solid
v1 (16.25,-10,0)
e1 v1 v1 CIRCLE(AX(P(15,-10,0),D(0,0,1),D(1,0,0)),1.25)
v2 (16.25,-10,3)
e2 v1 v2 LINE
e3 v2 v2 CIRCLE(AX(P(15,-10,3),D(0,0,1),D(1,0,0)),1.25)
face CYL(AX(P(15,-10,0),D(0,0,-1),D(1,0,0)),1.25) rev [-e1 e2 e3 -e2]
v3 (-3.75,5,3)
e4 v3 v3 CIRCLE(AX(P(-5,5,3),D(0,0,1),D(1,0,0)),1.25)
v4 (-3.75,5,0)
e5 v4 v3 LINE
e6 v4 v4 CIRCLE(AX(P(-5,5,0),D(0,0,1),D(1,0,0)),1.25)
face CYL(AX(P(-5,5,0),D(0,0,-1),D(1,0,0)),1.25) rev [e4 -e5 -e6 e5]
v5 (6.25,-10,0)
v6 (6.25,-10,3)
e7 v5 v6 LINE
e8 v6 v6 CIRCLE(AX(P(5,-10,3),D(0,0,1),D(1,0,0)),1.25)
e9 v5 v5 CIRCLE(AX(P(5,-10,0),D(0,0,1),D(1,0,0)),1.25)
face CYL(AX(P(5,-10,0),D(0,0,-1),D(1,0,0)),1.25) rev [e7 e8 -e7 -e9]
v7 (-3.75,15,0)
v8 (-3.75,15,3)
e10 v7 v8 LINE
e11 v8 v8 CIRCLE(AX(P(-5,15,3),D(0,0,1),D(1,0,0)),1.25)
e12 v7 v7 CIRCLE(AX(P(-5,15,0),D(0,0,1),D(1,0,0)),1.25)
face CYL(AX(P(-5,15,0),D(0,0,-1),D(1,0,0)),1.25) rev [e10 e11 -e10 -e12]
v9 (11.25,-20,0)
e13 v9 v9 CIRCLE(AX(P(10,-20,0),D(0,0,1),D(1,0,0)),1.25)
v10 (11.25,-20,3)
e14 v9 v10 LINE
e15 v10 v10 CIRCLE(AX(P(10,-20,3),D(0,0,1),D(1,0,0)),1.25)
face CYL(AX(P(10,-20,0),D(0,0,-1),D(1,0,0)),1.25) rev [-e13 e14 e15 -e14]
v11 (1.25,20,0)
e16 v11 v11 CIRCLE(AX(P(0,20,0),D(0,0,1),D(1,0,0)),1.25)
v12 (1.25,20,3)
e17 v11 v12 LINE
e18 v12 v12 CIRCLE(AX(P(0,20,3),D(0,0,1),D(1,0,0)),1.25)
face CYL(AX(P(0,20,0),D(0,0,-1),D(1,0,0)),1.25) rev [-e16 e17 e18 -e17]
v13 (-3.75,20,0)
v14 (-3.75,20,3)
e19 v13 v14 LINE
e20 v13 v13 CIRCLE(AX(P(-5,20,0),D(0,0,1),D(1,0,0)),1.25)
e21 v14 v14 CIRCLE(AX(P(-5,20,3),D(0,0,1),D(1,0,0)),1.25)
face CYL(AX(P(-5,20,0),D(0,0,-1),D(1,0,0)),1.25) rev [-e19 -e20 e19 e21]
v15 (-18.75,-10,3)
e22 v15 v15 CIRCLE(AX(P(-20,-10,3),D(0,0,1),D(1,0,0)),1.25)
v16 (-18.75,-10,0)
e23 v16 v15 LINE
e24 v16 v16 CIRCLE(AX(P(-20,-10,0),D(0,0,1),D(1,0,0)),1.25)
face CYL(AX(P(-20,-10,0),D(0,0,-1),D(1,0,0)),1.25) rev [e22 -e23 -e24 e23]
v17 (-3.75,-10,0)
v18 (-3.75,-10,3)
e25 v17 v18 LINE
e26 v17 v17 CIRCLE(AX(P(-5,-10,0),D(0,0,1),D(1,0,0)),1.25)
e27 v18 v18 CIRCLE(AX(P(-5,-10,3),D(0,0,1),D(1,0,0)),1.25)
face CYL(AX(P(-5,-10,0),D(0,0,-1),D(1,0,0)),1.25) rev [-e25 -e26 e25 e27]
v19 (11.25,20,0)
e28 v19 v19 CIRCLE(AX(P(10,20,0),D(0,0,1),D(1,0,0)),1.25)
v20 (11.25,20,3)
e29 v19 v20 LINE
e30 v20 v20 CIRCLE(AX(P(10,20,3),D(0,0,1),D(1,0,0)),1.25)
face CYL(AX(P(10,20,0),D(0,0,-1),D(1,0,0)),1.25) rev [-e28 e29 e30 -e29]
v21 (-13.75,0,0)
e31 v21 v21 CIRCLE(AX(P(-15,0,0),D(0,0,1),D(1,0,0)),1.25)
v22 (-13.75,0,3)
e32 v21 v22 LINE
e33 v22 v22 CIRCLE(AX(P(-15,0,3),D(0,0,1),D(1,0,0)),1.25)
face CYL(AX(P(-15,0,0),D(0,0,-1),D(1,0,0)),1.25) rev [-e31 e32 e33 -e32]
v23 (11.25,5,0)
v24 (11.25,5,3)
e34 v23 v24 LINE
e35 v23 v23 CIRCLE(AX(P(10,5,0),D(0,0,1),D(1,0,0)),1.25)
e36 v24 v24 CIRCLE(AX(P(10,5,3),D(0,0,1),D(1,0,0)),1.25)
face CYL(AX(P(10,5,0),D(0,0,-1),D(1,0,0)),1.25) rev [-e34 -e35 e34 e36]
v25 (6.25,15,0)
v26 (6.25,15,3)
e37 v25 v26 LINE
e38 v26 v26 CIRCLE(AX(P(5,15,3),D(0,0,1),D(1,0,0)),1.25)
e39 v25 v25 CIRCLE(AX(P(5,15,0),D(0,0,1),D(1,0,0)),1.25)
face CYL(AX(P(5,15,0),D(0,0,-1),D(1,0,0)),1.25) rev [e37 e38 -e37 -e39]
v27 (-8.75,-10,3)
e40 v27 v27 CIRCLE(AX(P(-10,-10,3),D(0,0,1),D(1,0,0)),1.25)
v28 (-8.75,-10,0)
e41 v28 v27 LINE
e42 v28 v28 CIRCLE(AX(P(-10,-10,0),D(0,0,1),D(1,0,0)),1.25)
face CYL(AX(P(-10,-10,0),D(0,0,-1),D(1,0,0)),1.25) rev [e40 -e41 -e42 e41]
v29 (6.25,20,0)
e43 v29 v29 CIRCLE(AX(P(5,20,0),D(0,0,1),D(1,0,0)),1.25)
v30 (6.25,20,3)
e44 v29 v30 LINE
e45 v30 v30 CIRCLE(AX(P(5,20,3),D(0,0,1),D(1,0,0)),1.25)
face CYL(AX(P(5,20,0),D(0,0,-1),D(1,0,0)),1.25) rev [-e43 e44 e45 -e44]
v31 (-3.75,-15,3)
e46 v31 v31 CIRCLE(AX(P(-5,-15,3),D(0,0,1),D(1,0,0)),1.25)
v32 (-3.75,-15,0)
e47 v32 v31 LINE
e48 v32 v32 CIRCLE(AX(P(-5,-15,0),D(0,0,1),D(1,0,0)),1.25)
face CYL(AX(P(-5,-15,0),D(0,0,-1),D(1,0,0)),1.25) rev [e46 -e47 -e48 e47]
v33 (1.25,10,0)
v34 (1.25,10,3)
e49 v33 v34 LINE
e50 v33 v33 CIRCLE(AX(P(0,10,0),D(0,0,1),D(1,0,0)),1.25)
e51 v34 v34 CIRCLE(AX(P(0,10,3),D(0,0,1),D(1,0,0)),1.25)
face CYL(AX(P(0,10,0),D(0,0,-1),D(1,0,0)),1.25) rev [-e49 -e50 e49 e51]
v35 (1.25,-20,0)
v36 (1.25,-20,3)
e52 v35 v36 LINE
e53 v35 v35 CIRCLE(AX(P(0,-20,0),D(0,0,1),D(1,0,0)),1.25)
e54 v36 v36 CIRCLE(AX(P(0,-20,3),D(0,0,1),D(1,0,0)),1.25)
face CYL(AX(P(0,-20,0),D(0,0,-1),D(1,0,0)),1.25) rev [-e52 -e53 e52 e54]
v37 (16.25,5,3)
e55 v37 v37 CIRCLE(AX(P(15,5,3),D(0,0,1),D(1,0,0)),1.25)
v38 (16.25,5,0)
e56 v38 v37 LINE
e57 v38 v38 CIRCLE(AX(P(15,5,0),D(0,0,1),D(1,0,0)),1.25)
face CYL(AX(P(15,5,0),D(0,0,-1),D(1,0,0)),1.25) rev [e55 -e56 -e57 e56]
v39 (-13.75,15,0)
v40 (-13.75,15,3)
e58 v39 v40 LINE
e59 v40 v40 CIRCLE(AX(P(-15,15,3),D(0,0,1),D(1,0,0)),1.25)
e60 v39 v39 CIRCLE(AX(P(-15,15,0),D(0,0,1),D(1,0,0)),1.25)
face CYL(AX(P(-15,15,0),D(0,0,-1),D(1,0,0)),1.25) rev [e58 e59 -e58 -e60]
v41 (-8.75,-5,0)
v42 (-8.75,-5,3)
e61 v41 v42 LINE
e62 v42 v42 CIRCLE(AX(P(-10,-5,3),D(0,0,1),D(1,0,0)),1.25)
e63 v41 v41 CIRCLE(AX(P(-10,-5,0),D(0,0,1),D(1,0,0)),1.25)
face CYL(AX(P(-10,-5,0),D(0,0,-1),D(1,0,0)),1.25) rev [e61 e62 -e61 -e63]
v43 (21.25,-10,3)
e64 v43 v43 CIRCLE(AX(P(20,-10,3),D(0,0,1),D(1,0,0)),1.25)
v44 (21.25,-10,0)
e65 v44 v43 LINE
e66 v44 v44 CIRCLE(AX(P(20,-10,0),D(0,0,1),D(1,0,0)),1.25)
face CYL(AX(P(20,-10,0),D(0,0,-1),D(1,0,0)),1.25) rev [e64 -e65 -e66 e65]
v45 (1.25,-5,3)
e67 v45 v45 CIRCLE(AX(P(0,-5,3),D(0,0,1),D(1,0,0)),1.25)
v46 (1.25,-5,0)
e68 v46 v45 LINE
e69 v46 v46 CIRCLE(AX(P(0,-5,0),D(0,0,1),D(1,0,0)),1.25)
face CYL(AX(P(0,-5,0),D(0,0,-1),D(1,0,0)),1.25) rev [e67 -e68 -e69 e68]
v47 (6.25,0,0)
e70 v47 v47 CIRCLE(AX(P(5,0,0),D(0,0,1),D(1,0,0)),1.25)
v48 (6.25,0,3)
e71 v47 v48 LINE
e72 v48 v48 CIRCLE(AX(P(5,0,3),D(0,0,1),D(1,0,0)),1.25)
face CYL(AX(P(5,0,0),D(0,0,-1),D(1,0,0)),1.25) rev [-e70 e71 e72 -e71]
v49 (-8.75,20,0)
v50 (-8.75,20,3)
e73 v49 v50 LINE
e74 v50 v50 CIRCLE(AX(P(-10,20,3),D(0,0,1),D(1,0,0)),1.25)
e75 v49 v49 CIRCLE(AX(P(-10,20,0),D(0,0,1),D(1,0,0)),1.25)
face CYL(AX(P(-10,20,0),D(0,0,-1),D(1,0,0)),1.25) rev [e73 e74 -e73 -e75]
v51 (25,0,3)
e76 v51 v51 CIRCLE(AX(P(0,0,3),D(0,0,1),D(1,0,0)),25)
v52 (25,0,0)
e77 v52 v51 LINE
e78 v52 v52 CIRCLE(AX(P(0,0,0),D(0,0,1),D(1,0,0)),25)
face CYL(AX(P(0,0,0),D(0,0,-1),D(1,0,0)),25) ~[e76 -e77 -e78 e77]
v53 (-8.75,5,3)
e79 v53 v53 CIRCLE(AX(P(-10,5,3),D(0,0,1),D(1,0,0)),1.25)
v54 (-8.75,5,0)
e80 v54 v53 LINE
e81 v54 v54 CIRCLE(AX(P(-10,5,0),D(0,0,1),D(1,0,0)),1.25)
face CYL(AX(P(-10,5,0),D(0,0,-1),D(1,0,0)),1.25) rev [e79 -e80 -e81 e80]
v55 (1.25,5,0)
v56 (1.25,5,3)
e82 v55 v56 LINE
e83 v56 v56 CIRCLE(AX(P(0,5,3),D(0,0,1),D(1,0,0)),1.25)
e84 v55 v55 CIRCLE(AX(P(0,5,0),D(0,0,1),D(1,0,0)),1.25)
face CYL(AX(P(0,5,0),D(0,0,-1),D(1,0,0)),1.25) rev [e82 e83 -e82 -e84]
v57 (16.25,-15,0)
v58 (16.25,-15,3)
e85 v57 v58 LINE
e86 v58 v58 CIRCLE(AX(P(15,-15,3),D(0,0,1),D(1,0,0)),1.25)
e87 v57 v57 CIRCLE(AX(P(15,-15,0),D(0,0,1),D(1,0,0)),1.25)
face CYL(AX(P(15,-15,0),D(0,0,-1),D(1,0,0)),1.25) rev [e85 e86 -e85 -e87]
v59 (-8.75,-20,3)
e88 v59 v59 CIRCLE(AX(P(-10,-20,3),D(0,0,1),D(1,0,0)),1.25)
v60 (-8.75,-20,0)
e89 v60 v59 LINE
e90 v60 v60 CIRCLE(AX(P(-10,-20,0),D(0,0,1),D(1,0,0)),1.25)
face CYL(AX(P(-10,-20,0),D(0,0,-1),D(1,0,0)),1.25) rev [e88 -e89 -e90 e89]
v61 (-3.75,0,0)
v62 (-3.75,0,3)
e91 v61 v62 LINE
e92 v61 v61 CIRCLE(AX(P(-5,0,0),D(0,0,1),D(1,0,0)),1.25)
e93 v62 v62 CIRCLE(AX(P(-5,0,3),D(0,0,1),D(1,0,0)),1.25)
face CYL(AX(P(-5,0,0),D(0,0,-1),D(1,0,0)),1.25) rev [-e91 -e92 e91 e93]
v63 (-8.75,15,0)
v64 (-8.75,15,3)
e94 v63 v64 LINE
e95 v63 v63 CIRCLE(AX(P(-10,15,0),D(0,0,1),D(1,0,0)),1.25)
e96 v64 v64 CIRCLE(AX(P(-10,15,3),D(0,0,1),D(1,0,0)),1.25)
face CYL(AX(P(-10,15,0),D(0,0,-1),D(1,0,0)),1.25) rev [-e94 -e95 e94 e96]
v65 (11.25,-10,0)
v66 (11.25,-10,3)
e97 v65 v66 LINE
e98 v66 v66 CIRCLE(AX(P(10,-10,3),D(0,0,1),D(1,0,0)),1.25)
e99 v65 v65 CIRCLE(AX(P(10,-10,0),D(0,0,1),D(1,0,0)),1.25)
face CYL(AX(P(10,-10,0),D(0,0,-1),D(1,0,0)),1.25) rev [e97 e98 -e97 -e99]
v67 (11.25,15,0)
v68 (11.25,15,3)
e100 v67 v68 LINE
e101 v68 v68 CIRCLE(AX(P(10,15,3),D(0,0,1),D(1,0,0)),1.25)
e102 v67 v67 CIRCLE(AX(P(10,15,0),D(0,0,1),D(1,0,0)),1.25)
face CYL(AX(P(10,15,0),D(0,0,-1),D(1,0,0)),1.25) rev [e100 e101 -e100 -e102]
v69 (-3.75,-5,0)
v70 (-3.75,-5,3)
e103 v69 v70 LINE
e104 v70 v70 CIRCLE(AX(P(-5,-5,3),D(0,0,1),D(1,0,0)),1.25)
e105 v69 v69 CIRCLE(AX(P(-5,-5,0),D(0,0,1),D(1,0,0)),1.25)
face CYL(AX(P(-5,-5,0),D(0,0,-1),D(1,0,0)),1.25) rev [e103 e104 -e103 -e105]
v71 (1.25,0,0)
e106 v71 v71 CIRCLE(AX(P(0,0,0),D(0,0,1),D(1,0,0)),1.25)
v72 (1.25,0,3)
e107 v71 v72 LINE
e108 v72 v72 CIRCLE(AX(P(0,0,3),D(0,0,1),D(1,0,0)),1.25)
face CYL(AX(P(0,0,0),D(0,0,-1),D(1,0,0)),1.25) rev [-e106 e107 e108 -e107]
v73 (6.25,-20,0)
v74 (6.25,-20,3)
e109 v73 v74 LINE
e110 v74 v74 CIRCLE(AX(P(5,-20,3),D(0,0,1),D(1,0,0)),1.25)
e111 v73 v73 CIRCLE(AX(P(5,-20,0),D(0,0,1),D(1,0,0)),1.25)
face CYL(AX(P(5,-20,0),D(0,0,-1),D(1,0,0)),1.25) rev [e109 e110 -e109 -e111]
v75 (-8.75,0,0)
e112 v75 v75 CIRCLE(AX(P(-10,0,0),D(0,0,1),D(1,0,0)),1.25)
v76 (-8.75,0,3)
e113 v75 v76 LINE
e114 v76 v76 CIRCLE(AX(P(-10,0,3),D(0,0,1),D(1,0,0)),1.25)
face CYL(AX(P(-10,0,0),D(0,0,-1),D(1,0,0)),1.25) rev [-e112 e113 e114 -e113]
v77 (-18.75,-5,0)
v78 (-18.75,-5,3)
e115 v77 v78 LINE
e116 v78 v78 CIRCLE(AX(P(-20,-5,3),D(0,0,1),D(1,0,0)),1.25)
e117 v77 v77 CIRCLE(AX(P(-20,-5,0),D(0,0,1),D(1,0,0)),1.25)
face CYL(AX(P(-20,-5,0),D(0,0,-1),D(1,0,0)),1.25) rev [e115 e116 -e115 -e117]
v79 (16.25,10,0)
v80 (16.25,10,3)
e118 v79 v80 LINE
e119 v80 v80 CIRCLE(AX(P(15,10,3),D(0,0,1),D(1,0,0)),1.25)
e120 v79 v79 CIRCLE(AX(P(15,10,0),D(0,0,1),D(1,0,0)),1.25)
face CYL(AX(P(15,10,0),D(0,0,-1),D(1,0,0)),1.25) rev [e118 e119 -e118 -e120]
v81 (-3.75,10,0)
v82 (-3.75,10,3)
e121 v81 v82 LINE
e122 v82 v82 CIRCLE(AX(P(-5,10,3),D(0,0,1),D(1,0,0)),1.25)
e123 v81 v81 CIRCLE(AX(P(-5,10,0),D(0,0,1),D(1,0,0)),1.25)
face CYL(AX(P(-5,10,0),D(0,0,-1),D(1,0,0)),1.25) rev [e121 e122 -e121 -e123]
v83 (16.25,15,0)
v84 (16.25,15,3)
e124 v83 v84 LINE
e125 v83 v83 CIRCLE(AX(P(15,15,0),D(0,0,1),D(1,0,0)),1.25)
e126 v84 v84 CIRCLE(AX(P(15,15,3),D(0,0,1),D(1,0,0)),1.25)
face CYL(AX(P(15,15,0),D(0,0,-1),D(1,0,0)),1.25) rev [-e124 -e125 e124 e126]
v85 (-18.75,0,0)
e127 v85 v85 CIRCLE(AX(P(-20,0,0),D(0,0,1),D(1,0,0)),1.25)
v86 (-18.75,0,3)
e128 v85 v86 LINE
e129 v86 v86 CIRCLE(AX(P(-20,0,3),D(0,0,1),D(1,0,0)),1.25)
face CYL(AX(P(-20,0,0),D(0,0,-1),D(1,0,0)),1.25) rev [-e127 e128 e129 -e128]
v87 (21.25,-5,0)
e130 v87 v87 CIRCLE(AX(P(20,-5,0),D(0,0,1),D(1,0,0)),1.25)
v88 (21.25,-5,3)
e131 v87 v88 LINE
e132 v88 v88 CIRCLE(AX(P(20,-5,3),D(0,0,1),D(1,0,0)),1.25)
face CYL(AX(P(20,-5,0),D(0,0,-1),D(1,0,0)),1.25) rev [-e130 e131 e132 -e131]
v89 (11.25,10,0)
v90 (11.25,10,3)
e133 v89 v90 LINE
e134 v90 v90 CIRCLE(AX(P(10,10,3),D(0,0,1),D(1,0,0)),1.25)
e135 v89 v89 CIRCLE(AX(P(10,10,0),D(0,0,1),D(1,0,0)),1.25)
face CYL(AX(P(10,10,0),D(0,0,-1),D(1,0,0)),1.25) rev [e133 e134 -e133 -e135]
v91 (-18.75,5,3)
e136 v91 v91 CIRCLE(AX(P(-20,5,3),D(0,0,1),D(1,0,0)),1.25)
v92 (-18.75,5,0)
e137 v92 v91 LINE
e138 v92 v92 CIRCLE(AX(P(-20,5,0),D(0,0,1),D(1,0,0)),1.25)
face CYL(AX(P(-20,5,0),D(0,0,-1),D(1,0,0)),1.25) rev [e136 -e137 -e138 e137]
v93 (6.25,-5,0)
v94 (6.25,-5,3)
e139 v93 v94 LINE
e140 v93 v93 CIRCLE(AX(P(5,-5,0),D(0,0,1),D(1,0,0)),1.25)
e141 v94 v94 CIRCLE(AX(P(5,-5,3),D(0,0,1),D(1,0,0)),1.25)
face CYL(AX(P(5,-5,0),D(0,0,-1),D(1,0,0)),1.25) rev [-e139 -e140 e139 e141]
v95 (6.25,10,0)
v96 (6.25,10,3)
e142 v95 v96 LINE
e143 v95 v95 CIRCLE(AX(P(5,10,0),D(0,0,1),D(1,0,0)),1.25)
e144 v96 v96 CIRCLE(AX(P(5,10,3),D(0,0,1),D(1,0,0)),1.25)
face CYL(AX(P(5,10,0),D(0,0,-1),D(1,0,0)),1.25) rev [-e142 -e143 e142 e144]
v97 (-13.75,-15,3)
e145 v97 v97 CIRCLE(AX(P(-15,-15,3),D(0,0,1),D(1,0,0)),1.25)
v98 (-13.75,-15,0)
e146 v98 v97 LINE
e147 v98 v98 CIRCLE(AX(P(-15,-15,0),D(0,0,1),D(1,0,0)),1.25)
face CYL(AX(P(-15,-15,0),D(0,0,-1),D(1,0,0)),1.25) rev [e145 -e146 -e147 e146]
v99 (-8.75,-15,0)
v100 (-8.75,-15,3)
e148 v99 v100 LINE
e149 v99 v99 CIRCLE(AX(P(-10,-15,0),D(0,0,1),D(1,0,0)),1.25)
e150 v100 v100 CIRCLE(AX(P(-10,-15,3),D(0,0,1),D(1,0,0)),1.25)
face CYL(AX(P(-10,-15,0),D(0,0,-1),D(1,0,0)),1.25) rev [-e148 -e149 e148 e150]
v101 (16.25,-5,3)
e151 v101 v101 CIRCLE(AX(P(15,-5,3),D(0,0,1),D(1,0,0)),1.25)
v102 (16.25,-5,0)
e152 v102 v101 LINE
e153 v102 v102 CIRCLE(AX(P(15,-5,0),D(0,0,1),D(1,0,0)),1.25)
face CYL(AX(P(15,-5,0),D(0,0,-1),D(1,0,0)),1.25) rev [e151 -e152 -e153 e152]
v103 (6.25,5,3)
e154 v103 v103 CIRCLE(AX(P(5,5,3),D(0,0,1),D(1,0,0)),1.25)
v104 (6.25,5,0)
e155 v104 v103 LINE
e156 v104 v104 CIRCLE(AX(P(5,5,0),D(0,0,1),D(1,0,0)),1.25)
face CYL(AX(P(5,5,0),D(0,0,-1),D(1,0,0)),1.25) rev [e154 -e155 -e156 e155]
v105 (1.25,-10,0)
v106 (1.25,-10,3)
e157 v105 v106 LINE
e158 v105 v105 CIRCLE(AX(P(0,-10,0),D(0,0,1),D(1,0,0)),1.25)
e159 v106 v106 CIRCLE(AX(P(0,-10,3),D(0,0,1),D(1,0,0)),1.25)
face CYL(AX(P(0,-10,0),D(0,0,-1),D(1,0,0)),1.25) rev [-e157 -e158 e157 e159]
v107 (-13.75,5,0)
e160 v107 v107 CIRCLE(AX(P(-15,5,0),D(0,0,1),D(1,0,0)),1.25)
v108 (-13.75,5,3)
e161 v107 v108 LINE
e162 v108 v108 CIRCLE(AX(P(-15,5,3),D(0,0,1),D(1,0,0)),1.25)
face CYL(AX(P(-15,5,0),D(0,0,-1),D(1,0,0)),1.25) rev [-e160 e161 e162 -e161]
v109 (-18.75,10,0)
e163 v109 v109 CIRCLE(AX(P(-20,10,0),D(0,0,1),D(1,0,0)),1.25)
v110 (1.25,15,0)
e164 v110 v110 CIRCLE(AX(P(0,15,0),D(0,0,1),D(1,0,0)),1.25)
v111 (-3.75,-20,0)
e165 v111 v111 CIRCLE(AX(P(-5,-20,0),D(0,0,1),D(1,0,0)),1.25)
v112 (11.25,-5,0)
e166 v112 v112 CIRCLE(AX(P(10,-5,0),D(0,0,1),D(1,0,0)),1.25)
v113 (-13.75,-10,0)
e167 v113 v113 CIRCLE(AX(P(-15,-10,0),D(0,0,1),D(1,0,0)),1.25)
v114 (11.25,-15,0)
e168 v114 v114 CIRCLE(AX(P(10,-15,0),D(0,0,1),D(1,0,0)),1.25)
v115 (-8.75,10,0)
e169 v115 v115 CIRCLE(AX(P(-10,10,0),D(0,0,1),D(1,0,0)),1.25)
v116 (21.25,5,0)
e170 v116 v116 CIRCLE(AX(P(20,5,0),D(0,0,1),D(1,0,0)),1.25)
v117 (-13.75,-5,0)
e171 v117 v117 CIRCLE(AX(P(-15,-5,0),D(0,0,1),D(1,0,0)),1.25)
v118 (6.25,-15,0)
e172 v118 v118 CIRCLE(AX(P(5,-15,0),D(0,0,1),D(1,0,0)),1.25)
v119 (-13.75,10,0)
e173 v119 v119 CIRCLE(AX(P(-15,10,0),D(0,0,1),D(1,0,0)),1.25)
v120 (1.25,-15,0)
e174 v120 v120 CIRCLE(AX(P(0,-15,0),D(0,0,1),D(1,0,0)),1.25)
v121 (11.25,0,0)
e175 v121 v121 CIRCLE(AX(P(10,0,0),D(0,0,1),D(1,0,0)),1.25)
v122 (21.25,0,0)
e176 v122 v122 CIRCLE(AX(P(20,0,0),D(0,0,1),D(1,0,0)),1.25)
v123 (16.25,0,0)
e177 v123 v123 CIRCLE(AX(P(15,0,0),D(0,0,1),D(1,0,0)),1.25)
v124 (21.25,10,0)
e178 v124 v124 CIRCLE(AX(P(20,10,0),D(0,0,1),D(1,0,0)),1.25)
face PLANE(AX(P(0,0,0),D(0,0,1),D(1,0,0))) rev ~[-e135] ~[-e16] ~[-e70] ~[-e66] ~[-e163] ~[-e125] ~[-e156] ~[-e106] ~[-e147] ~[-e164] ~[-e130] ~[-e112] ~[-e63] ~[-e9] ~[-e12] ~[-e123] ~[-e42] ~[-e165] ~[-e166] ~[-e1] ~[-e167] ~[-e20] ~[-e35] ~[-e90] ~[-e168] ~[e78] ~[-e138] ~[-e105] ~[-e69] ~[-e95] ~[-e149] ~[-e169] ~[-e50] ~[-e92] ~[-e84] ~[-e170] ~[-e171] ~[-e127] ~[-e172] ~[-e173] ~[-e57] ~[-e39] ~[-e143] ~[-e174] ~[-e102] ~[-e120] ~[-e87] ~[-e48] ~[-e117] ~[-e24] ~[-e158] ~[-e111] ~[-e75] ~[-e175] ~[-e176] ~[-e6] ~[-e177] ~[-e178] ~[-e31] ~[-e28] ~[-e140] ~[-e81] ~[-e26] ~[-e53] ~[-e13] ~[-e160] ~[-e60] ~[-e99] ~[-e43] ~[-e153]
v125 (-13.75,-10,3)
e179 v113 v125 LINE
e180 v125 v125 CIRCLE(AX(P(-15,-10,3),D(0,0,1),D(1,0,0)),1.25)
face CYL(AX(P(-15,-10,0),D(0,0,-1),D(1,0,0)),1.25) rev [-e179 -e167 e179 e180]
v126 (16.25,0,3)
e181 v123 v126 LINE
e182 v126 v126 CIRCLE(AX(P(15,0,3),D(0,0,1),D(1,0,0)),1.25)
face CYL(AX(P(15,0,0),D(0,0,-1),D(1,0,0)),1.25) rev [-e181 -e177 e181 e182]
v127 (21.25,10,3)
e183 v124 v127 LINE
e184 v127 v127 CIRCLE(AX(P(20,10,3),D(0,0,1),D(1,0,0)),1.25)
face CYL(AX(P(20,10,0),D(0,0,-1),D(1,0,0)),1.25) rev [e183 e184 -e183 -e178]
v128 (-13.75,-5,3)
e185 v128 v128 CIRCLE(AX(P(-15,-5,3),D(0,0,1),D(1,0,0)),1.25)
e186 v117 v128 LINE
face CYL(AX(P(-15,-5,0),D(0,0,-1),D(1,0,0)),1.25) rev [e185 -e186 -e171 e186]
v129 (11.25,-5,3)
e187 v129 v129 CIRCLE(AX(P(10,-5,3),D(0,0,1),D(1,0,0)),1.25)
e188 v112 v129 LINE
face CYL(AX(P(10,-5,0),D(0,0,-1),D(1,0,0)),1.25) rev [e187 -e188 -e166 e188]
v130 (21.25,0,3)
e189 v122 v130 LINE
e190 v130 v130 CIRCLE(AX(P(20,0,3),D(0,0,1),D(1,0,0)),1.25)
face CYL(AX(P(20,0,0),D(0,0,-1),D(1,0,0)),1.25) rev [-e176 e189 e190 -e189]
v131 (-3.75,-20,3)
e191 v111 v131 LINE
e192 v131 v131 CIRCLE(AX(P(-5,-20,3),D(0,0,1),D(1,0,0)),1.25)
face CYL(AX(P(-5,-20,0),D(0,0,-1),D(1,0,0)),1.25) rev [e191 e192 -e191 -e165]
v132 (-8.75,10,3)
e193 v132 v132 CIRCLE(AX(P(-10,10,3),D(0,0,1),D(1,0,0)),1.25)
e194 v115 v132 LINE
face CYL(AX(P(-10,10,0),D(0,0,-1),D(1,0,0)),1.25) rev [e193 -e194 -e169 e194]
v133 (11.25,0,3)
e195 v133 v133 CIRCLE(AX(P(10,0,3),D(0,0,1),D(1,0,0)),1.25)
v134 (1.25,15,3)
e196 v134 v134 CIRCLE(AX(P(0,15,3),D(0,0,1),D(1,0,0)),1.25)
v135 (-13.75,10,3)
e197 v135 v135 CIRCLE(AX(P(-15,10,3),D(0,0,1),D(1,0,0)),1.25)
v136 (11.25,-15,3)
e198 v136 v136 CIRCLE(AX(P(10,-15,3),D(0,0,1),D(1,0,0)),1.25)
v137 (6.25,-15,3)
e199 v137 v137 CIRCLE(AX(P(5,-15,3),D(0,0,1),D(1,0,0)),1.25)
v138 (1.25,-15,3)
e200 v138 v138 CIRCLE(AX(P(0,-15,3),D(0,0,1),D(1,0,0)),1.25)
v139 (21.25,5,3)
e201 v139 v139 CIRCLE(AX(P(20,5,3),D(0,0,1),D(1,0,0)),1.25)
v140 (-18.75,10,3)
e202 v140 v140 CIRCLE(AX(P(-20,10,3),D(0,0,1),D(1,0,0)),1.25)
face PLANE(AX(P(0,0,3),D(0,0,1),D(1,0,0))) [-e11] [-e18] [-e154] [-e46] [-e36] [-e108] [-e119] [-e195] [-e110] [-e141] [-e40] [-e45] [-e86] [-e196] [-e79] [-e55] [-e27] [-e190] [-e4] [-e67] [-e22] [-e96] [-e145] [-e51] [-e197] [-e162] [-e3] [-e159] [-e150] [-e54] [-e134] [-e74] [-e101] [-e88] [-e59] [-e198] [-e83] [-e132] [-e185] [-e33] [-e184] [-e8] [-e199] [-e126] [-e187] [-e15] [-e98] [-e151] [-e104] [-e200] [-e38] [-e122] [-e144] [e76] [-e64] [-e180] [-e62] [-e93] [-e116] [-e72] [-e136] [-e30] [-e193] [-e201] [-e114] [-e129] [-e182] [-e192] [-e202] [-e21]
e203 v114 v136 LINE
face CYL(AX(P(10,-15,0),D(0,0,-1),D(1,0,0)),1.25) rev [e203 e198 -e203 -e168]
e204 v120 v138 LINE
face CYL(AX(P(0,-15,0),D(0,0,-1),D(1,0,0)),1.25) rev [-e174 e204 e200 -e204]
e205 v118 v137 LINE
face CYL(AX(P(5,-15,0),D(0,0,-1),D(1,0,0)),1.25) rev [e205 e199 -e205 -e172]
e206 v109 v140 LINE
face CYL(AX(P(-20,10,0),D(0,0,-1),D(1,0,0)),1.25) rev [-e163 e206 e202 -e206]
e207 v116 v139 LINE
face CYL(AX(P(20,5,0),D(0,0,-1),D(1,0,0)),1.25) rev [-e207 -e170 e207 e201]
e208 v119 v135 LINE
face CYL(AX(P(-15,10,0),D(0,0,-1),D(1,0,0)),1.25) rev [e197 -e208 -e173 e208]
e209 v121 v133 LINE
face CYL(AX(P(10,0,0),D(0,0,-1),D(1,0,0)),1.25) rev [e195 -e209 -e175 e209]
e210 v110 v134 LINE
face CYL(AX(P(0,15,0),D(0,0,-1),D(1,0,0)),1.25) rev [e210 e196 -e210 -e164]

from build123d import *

# Parameters (mm, degrees)
F0_R     = 25
F0_R_2   = 1.25
F1_DEPTH = 3


with BuildPart() as f1:
    # F0 (on Top) → F1 (new body)
    with BuildSketch(Plane.XY):
        Circle(F0_R)
        with Locations((-15, -15)):
            Circle(F0_R_2, mode=Mode.SUBTRACT)
        with Locations((-10, -20)):
            Circle(F0_R_2, mode=Mode.SUBTRACT)
        with Locations((-5, -20)):
            Circle(F0_R_2, mode=Mode.SUBTRACT)
        with Locations((-10, -15)):
            Circle(F0_R_2, mode=Mode.SUBTRACT)
        with Locations((-5, -15)):
            Circle(F0_R_2, mode=Mode.SUBTRACT)
        with Locations((-20, -10)):
            Circle(F0_R_2, mode=Mode.SUBTRACT)
        with Locations((-15, -10)):
            Circle(F0_R_2, mode=Mode.SUBTRACT)
        with Locations((-20, -5)):
            Circle(F0_R_2, mode=Mode.SUBTRACT)
        with Locations((-15, -5)):
            Circle(F0_R_2, mode=Mode.SUBTRACT)
        with Locations((-10, -10)):
            Circle(F0_R_2, mode=Mode.SUBTRACT)
        with Locations((-5, -10)):
            Circle(F0_R_2, mode=Mode.SUBTRACT)
        with Locations((-10, -5)):
            Circle(F0_R_2, mode=Mode.SUBTRACT)
        with Locations((-5, -5)):
            Circle(F0_R_2, mode=Mode.SUBTRACT)
        with Locations((0, -20)):
            Circle(F0_R_2, mode=Mode.SUBTRACT)
        with Locations((5, -20)):
            Circle(F0_R_2, mode=Mode.SUBTRACT)
        with Locations((10, -20)):
            Circle(F0_R_2, mode=Mode.SUBTRACT)
        with Locations((0, -15)):
            Circle(F0_R_2, mode=Mode.SUBTRACT)
        with Locations((5, -15)):
            Circle(F0_R_2, mode=Mode.SUBTRACT)
        with Locations((10, -15)):
            Circle(F0_R_2, mode=Mode.SUBTRACT)
        with Locations((15, -15)):
            Circle(F0_R_2, mode=Mode.SUBTRACT)
        with Locations((0, -10)):
            Circle(F0_R_2, mode=Mode.SUBTRACT)
        with Locations((5, -10)):
            Circle(F0_R_2, mode=Mode.SUBTRACT)
        with Locations((10, -10)):
            Circle(F0_R_2, mode=Mode.SUBTRACT)
        with Locations((0, -5)):
            Circle(F0_R_2, mode=Mode.SUBTRACT)
        with Locations((5, -5)):
            Circle(F0_R_2, mode=Mode.SUBTRACT)
        with Locations((10, -5)):
            Circle(F0_R_2, mode=Mode.SUBTRACT)
        with Locations((15, -10)):
            Circle(F0_R_2, mode=Mode.SUBTRACT)
        with Locations((20, -10)):
            Circle(F0_R_2, mode=Mode.SUBTRACT)
        with Locations((15, -5)):
            Circle(F0_R_2, mode=Mode.SUBTRACT)
        with Locations((20, -5)):
            Circle(F0_R_2, mode=Mode.SUBTRACT)
        with Locations((-20, 0)):
            Circle(F0_R_2, mode=Mode.SUBTRACT)
        with Locations((-20, 5)):
            Circle(F0_R_2, mode=Mode.SUBTRACT)
        with Locations((-15, 0)):
            Circle(F0_R_2, mode=Mode.SUBTRACT)
        with Locations((-15, 5)):
            Circle(F0_R_2, mode=Mode.SUBTRACT)
        with Locations((-20, 10)):
            Circle(F0_R_2, mode=Mode.SUBTRACT)
        with Locations((-15, 10)):
            Circle(F0_R_2, mode=Mode.SUBTRACT)
        with Locations((-10, 0)):
            Circle(F0_R_2, mode=Mode.SUBTRACT)
        with Locations((-10, 5)):
            Circle(F0_R_2, mode=Mode.SUBTRACT)
        with Locations((-5, 0)):
            Circle(F0_R_2, mode=Mode.SUBTRACT)
        with Locations((-5, 5)):
            Circle(F0_R_2, mode=Mode.SUBTRACT)
        with Locations((-10, 10)):
            Circle(F0_R_2, mode=Mode.SUBTRACT)
        with Locations((-5, 10)):
            Circle(F0_R_2, mode=Mode.SUBTRACT)
        with Locations((-15, 15)):
            Circle(F0_R_2, mode=Mode.SUBTRACT)
        with Locations((-10, 15)):
            Circle(F0_R_2, mode=Mode.SUBTRACT)
        with Locations((-5, 15)):
            Circle(F0_R_2, mode=Mode.SUBTRACT)
        with Locations((-10, 20)):
            Circle(F0_R_2, mode=Mode.SUBTRACT)
        with Locations((-5, 20)):
            Circle(F0_R_2, mode=Mode.SUBTRACT)
        Circle(F0_R_2, mode=Mode.SUBTRACT)
        with Locations((5, 0)):
            Circle(F0_R_2, mode=Mode.SUBTRACT)
        with Locations((0, 5)):
            Circle(F0_R_2, mode=Mode.SUBTRACT)
        with Locations((5, 5)):
            Circle(F0_R_2, mode=Mode.SUBTRACT)
        with Locations((10, 0)):
            Circle(F0_R_2, mode=Mode.SUBTRACT)
        with Locations((10, 5)):
            Circle(F0_R_2, mode=Mode.SUBTRACT)
        with Locations((0, 10)):
            Circle(F0_R_2, mode=Mode.SUBTRACT)
        with Locations((5, 10)):
            Circle(F0_R_2, mode=Mode.SUBTRACT)
        with Locations((10, 10)):
            Circle(F0_R_2, mode=Mode.SUBTRACT)
        with Locations((15, 0)):
            Circle(F0_R_2, mode=Mode.SUBTRACT)
        with Locations((15, 5)):
            Circle(F0_R_2, mode=Mode.SUBTRACT)
        with Locations((20, 0)):
            Circle(F0_R_2, mode=Mode.SUBTRACT)
        with Locations((20, 5)):
            Circle(F0_R_2, mode=Mode.SUBTRACT)
        with Locations((15, 10)):
            Circle(F0_R_2, mode=Mode.SUBTRACT)
        with Locations((20, 10)):
            Circle(F0_R_2, mode=Mode.SUBTRACT)
        with Locations((0, 15)):
            Circle(F0_R_2, mode=Mode.SUBTRACT)
        with Locations((5, 15)):
            Circle(F0_R_2, mode=Mode.SUBTRACT)
        with Locations((10, 15)):
            Circle(F0_R_2, mode=Mode.SUBTRACT)
        with Locations((0, 20)):
            Circle(F0_R_2, mode=Mode.SUBTRACT)
        with Locations((5, 20)):
            Circle(F0_R_2, mode=Mode.SUBTRACT)
        with Locations((10, 20)):
            Circle(F0_R_2, mode=Mode.SUBTRACT)
        with Locations((15, 15)):
            Circle(F0_R_2, mode=Mode.SUBTRACT)
    extrude(amount=F1_DEPTH)


solid = f1.part
